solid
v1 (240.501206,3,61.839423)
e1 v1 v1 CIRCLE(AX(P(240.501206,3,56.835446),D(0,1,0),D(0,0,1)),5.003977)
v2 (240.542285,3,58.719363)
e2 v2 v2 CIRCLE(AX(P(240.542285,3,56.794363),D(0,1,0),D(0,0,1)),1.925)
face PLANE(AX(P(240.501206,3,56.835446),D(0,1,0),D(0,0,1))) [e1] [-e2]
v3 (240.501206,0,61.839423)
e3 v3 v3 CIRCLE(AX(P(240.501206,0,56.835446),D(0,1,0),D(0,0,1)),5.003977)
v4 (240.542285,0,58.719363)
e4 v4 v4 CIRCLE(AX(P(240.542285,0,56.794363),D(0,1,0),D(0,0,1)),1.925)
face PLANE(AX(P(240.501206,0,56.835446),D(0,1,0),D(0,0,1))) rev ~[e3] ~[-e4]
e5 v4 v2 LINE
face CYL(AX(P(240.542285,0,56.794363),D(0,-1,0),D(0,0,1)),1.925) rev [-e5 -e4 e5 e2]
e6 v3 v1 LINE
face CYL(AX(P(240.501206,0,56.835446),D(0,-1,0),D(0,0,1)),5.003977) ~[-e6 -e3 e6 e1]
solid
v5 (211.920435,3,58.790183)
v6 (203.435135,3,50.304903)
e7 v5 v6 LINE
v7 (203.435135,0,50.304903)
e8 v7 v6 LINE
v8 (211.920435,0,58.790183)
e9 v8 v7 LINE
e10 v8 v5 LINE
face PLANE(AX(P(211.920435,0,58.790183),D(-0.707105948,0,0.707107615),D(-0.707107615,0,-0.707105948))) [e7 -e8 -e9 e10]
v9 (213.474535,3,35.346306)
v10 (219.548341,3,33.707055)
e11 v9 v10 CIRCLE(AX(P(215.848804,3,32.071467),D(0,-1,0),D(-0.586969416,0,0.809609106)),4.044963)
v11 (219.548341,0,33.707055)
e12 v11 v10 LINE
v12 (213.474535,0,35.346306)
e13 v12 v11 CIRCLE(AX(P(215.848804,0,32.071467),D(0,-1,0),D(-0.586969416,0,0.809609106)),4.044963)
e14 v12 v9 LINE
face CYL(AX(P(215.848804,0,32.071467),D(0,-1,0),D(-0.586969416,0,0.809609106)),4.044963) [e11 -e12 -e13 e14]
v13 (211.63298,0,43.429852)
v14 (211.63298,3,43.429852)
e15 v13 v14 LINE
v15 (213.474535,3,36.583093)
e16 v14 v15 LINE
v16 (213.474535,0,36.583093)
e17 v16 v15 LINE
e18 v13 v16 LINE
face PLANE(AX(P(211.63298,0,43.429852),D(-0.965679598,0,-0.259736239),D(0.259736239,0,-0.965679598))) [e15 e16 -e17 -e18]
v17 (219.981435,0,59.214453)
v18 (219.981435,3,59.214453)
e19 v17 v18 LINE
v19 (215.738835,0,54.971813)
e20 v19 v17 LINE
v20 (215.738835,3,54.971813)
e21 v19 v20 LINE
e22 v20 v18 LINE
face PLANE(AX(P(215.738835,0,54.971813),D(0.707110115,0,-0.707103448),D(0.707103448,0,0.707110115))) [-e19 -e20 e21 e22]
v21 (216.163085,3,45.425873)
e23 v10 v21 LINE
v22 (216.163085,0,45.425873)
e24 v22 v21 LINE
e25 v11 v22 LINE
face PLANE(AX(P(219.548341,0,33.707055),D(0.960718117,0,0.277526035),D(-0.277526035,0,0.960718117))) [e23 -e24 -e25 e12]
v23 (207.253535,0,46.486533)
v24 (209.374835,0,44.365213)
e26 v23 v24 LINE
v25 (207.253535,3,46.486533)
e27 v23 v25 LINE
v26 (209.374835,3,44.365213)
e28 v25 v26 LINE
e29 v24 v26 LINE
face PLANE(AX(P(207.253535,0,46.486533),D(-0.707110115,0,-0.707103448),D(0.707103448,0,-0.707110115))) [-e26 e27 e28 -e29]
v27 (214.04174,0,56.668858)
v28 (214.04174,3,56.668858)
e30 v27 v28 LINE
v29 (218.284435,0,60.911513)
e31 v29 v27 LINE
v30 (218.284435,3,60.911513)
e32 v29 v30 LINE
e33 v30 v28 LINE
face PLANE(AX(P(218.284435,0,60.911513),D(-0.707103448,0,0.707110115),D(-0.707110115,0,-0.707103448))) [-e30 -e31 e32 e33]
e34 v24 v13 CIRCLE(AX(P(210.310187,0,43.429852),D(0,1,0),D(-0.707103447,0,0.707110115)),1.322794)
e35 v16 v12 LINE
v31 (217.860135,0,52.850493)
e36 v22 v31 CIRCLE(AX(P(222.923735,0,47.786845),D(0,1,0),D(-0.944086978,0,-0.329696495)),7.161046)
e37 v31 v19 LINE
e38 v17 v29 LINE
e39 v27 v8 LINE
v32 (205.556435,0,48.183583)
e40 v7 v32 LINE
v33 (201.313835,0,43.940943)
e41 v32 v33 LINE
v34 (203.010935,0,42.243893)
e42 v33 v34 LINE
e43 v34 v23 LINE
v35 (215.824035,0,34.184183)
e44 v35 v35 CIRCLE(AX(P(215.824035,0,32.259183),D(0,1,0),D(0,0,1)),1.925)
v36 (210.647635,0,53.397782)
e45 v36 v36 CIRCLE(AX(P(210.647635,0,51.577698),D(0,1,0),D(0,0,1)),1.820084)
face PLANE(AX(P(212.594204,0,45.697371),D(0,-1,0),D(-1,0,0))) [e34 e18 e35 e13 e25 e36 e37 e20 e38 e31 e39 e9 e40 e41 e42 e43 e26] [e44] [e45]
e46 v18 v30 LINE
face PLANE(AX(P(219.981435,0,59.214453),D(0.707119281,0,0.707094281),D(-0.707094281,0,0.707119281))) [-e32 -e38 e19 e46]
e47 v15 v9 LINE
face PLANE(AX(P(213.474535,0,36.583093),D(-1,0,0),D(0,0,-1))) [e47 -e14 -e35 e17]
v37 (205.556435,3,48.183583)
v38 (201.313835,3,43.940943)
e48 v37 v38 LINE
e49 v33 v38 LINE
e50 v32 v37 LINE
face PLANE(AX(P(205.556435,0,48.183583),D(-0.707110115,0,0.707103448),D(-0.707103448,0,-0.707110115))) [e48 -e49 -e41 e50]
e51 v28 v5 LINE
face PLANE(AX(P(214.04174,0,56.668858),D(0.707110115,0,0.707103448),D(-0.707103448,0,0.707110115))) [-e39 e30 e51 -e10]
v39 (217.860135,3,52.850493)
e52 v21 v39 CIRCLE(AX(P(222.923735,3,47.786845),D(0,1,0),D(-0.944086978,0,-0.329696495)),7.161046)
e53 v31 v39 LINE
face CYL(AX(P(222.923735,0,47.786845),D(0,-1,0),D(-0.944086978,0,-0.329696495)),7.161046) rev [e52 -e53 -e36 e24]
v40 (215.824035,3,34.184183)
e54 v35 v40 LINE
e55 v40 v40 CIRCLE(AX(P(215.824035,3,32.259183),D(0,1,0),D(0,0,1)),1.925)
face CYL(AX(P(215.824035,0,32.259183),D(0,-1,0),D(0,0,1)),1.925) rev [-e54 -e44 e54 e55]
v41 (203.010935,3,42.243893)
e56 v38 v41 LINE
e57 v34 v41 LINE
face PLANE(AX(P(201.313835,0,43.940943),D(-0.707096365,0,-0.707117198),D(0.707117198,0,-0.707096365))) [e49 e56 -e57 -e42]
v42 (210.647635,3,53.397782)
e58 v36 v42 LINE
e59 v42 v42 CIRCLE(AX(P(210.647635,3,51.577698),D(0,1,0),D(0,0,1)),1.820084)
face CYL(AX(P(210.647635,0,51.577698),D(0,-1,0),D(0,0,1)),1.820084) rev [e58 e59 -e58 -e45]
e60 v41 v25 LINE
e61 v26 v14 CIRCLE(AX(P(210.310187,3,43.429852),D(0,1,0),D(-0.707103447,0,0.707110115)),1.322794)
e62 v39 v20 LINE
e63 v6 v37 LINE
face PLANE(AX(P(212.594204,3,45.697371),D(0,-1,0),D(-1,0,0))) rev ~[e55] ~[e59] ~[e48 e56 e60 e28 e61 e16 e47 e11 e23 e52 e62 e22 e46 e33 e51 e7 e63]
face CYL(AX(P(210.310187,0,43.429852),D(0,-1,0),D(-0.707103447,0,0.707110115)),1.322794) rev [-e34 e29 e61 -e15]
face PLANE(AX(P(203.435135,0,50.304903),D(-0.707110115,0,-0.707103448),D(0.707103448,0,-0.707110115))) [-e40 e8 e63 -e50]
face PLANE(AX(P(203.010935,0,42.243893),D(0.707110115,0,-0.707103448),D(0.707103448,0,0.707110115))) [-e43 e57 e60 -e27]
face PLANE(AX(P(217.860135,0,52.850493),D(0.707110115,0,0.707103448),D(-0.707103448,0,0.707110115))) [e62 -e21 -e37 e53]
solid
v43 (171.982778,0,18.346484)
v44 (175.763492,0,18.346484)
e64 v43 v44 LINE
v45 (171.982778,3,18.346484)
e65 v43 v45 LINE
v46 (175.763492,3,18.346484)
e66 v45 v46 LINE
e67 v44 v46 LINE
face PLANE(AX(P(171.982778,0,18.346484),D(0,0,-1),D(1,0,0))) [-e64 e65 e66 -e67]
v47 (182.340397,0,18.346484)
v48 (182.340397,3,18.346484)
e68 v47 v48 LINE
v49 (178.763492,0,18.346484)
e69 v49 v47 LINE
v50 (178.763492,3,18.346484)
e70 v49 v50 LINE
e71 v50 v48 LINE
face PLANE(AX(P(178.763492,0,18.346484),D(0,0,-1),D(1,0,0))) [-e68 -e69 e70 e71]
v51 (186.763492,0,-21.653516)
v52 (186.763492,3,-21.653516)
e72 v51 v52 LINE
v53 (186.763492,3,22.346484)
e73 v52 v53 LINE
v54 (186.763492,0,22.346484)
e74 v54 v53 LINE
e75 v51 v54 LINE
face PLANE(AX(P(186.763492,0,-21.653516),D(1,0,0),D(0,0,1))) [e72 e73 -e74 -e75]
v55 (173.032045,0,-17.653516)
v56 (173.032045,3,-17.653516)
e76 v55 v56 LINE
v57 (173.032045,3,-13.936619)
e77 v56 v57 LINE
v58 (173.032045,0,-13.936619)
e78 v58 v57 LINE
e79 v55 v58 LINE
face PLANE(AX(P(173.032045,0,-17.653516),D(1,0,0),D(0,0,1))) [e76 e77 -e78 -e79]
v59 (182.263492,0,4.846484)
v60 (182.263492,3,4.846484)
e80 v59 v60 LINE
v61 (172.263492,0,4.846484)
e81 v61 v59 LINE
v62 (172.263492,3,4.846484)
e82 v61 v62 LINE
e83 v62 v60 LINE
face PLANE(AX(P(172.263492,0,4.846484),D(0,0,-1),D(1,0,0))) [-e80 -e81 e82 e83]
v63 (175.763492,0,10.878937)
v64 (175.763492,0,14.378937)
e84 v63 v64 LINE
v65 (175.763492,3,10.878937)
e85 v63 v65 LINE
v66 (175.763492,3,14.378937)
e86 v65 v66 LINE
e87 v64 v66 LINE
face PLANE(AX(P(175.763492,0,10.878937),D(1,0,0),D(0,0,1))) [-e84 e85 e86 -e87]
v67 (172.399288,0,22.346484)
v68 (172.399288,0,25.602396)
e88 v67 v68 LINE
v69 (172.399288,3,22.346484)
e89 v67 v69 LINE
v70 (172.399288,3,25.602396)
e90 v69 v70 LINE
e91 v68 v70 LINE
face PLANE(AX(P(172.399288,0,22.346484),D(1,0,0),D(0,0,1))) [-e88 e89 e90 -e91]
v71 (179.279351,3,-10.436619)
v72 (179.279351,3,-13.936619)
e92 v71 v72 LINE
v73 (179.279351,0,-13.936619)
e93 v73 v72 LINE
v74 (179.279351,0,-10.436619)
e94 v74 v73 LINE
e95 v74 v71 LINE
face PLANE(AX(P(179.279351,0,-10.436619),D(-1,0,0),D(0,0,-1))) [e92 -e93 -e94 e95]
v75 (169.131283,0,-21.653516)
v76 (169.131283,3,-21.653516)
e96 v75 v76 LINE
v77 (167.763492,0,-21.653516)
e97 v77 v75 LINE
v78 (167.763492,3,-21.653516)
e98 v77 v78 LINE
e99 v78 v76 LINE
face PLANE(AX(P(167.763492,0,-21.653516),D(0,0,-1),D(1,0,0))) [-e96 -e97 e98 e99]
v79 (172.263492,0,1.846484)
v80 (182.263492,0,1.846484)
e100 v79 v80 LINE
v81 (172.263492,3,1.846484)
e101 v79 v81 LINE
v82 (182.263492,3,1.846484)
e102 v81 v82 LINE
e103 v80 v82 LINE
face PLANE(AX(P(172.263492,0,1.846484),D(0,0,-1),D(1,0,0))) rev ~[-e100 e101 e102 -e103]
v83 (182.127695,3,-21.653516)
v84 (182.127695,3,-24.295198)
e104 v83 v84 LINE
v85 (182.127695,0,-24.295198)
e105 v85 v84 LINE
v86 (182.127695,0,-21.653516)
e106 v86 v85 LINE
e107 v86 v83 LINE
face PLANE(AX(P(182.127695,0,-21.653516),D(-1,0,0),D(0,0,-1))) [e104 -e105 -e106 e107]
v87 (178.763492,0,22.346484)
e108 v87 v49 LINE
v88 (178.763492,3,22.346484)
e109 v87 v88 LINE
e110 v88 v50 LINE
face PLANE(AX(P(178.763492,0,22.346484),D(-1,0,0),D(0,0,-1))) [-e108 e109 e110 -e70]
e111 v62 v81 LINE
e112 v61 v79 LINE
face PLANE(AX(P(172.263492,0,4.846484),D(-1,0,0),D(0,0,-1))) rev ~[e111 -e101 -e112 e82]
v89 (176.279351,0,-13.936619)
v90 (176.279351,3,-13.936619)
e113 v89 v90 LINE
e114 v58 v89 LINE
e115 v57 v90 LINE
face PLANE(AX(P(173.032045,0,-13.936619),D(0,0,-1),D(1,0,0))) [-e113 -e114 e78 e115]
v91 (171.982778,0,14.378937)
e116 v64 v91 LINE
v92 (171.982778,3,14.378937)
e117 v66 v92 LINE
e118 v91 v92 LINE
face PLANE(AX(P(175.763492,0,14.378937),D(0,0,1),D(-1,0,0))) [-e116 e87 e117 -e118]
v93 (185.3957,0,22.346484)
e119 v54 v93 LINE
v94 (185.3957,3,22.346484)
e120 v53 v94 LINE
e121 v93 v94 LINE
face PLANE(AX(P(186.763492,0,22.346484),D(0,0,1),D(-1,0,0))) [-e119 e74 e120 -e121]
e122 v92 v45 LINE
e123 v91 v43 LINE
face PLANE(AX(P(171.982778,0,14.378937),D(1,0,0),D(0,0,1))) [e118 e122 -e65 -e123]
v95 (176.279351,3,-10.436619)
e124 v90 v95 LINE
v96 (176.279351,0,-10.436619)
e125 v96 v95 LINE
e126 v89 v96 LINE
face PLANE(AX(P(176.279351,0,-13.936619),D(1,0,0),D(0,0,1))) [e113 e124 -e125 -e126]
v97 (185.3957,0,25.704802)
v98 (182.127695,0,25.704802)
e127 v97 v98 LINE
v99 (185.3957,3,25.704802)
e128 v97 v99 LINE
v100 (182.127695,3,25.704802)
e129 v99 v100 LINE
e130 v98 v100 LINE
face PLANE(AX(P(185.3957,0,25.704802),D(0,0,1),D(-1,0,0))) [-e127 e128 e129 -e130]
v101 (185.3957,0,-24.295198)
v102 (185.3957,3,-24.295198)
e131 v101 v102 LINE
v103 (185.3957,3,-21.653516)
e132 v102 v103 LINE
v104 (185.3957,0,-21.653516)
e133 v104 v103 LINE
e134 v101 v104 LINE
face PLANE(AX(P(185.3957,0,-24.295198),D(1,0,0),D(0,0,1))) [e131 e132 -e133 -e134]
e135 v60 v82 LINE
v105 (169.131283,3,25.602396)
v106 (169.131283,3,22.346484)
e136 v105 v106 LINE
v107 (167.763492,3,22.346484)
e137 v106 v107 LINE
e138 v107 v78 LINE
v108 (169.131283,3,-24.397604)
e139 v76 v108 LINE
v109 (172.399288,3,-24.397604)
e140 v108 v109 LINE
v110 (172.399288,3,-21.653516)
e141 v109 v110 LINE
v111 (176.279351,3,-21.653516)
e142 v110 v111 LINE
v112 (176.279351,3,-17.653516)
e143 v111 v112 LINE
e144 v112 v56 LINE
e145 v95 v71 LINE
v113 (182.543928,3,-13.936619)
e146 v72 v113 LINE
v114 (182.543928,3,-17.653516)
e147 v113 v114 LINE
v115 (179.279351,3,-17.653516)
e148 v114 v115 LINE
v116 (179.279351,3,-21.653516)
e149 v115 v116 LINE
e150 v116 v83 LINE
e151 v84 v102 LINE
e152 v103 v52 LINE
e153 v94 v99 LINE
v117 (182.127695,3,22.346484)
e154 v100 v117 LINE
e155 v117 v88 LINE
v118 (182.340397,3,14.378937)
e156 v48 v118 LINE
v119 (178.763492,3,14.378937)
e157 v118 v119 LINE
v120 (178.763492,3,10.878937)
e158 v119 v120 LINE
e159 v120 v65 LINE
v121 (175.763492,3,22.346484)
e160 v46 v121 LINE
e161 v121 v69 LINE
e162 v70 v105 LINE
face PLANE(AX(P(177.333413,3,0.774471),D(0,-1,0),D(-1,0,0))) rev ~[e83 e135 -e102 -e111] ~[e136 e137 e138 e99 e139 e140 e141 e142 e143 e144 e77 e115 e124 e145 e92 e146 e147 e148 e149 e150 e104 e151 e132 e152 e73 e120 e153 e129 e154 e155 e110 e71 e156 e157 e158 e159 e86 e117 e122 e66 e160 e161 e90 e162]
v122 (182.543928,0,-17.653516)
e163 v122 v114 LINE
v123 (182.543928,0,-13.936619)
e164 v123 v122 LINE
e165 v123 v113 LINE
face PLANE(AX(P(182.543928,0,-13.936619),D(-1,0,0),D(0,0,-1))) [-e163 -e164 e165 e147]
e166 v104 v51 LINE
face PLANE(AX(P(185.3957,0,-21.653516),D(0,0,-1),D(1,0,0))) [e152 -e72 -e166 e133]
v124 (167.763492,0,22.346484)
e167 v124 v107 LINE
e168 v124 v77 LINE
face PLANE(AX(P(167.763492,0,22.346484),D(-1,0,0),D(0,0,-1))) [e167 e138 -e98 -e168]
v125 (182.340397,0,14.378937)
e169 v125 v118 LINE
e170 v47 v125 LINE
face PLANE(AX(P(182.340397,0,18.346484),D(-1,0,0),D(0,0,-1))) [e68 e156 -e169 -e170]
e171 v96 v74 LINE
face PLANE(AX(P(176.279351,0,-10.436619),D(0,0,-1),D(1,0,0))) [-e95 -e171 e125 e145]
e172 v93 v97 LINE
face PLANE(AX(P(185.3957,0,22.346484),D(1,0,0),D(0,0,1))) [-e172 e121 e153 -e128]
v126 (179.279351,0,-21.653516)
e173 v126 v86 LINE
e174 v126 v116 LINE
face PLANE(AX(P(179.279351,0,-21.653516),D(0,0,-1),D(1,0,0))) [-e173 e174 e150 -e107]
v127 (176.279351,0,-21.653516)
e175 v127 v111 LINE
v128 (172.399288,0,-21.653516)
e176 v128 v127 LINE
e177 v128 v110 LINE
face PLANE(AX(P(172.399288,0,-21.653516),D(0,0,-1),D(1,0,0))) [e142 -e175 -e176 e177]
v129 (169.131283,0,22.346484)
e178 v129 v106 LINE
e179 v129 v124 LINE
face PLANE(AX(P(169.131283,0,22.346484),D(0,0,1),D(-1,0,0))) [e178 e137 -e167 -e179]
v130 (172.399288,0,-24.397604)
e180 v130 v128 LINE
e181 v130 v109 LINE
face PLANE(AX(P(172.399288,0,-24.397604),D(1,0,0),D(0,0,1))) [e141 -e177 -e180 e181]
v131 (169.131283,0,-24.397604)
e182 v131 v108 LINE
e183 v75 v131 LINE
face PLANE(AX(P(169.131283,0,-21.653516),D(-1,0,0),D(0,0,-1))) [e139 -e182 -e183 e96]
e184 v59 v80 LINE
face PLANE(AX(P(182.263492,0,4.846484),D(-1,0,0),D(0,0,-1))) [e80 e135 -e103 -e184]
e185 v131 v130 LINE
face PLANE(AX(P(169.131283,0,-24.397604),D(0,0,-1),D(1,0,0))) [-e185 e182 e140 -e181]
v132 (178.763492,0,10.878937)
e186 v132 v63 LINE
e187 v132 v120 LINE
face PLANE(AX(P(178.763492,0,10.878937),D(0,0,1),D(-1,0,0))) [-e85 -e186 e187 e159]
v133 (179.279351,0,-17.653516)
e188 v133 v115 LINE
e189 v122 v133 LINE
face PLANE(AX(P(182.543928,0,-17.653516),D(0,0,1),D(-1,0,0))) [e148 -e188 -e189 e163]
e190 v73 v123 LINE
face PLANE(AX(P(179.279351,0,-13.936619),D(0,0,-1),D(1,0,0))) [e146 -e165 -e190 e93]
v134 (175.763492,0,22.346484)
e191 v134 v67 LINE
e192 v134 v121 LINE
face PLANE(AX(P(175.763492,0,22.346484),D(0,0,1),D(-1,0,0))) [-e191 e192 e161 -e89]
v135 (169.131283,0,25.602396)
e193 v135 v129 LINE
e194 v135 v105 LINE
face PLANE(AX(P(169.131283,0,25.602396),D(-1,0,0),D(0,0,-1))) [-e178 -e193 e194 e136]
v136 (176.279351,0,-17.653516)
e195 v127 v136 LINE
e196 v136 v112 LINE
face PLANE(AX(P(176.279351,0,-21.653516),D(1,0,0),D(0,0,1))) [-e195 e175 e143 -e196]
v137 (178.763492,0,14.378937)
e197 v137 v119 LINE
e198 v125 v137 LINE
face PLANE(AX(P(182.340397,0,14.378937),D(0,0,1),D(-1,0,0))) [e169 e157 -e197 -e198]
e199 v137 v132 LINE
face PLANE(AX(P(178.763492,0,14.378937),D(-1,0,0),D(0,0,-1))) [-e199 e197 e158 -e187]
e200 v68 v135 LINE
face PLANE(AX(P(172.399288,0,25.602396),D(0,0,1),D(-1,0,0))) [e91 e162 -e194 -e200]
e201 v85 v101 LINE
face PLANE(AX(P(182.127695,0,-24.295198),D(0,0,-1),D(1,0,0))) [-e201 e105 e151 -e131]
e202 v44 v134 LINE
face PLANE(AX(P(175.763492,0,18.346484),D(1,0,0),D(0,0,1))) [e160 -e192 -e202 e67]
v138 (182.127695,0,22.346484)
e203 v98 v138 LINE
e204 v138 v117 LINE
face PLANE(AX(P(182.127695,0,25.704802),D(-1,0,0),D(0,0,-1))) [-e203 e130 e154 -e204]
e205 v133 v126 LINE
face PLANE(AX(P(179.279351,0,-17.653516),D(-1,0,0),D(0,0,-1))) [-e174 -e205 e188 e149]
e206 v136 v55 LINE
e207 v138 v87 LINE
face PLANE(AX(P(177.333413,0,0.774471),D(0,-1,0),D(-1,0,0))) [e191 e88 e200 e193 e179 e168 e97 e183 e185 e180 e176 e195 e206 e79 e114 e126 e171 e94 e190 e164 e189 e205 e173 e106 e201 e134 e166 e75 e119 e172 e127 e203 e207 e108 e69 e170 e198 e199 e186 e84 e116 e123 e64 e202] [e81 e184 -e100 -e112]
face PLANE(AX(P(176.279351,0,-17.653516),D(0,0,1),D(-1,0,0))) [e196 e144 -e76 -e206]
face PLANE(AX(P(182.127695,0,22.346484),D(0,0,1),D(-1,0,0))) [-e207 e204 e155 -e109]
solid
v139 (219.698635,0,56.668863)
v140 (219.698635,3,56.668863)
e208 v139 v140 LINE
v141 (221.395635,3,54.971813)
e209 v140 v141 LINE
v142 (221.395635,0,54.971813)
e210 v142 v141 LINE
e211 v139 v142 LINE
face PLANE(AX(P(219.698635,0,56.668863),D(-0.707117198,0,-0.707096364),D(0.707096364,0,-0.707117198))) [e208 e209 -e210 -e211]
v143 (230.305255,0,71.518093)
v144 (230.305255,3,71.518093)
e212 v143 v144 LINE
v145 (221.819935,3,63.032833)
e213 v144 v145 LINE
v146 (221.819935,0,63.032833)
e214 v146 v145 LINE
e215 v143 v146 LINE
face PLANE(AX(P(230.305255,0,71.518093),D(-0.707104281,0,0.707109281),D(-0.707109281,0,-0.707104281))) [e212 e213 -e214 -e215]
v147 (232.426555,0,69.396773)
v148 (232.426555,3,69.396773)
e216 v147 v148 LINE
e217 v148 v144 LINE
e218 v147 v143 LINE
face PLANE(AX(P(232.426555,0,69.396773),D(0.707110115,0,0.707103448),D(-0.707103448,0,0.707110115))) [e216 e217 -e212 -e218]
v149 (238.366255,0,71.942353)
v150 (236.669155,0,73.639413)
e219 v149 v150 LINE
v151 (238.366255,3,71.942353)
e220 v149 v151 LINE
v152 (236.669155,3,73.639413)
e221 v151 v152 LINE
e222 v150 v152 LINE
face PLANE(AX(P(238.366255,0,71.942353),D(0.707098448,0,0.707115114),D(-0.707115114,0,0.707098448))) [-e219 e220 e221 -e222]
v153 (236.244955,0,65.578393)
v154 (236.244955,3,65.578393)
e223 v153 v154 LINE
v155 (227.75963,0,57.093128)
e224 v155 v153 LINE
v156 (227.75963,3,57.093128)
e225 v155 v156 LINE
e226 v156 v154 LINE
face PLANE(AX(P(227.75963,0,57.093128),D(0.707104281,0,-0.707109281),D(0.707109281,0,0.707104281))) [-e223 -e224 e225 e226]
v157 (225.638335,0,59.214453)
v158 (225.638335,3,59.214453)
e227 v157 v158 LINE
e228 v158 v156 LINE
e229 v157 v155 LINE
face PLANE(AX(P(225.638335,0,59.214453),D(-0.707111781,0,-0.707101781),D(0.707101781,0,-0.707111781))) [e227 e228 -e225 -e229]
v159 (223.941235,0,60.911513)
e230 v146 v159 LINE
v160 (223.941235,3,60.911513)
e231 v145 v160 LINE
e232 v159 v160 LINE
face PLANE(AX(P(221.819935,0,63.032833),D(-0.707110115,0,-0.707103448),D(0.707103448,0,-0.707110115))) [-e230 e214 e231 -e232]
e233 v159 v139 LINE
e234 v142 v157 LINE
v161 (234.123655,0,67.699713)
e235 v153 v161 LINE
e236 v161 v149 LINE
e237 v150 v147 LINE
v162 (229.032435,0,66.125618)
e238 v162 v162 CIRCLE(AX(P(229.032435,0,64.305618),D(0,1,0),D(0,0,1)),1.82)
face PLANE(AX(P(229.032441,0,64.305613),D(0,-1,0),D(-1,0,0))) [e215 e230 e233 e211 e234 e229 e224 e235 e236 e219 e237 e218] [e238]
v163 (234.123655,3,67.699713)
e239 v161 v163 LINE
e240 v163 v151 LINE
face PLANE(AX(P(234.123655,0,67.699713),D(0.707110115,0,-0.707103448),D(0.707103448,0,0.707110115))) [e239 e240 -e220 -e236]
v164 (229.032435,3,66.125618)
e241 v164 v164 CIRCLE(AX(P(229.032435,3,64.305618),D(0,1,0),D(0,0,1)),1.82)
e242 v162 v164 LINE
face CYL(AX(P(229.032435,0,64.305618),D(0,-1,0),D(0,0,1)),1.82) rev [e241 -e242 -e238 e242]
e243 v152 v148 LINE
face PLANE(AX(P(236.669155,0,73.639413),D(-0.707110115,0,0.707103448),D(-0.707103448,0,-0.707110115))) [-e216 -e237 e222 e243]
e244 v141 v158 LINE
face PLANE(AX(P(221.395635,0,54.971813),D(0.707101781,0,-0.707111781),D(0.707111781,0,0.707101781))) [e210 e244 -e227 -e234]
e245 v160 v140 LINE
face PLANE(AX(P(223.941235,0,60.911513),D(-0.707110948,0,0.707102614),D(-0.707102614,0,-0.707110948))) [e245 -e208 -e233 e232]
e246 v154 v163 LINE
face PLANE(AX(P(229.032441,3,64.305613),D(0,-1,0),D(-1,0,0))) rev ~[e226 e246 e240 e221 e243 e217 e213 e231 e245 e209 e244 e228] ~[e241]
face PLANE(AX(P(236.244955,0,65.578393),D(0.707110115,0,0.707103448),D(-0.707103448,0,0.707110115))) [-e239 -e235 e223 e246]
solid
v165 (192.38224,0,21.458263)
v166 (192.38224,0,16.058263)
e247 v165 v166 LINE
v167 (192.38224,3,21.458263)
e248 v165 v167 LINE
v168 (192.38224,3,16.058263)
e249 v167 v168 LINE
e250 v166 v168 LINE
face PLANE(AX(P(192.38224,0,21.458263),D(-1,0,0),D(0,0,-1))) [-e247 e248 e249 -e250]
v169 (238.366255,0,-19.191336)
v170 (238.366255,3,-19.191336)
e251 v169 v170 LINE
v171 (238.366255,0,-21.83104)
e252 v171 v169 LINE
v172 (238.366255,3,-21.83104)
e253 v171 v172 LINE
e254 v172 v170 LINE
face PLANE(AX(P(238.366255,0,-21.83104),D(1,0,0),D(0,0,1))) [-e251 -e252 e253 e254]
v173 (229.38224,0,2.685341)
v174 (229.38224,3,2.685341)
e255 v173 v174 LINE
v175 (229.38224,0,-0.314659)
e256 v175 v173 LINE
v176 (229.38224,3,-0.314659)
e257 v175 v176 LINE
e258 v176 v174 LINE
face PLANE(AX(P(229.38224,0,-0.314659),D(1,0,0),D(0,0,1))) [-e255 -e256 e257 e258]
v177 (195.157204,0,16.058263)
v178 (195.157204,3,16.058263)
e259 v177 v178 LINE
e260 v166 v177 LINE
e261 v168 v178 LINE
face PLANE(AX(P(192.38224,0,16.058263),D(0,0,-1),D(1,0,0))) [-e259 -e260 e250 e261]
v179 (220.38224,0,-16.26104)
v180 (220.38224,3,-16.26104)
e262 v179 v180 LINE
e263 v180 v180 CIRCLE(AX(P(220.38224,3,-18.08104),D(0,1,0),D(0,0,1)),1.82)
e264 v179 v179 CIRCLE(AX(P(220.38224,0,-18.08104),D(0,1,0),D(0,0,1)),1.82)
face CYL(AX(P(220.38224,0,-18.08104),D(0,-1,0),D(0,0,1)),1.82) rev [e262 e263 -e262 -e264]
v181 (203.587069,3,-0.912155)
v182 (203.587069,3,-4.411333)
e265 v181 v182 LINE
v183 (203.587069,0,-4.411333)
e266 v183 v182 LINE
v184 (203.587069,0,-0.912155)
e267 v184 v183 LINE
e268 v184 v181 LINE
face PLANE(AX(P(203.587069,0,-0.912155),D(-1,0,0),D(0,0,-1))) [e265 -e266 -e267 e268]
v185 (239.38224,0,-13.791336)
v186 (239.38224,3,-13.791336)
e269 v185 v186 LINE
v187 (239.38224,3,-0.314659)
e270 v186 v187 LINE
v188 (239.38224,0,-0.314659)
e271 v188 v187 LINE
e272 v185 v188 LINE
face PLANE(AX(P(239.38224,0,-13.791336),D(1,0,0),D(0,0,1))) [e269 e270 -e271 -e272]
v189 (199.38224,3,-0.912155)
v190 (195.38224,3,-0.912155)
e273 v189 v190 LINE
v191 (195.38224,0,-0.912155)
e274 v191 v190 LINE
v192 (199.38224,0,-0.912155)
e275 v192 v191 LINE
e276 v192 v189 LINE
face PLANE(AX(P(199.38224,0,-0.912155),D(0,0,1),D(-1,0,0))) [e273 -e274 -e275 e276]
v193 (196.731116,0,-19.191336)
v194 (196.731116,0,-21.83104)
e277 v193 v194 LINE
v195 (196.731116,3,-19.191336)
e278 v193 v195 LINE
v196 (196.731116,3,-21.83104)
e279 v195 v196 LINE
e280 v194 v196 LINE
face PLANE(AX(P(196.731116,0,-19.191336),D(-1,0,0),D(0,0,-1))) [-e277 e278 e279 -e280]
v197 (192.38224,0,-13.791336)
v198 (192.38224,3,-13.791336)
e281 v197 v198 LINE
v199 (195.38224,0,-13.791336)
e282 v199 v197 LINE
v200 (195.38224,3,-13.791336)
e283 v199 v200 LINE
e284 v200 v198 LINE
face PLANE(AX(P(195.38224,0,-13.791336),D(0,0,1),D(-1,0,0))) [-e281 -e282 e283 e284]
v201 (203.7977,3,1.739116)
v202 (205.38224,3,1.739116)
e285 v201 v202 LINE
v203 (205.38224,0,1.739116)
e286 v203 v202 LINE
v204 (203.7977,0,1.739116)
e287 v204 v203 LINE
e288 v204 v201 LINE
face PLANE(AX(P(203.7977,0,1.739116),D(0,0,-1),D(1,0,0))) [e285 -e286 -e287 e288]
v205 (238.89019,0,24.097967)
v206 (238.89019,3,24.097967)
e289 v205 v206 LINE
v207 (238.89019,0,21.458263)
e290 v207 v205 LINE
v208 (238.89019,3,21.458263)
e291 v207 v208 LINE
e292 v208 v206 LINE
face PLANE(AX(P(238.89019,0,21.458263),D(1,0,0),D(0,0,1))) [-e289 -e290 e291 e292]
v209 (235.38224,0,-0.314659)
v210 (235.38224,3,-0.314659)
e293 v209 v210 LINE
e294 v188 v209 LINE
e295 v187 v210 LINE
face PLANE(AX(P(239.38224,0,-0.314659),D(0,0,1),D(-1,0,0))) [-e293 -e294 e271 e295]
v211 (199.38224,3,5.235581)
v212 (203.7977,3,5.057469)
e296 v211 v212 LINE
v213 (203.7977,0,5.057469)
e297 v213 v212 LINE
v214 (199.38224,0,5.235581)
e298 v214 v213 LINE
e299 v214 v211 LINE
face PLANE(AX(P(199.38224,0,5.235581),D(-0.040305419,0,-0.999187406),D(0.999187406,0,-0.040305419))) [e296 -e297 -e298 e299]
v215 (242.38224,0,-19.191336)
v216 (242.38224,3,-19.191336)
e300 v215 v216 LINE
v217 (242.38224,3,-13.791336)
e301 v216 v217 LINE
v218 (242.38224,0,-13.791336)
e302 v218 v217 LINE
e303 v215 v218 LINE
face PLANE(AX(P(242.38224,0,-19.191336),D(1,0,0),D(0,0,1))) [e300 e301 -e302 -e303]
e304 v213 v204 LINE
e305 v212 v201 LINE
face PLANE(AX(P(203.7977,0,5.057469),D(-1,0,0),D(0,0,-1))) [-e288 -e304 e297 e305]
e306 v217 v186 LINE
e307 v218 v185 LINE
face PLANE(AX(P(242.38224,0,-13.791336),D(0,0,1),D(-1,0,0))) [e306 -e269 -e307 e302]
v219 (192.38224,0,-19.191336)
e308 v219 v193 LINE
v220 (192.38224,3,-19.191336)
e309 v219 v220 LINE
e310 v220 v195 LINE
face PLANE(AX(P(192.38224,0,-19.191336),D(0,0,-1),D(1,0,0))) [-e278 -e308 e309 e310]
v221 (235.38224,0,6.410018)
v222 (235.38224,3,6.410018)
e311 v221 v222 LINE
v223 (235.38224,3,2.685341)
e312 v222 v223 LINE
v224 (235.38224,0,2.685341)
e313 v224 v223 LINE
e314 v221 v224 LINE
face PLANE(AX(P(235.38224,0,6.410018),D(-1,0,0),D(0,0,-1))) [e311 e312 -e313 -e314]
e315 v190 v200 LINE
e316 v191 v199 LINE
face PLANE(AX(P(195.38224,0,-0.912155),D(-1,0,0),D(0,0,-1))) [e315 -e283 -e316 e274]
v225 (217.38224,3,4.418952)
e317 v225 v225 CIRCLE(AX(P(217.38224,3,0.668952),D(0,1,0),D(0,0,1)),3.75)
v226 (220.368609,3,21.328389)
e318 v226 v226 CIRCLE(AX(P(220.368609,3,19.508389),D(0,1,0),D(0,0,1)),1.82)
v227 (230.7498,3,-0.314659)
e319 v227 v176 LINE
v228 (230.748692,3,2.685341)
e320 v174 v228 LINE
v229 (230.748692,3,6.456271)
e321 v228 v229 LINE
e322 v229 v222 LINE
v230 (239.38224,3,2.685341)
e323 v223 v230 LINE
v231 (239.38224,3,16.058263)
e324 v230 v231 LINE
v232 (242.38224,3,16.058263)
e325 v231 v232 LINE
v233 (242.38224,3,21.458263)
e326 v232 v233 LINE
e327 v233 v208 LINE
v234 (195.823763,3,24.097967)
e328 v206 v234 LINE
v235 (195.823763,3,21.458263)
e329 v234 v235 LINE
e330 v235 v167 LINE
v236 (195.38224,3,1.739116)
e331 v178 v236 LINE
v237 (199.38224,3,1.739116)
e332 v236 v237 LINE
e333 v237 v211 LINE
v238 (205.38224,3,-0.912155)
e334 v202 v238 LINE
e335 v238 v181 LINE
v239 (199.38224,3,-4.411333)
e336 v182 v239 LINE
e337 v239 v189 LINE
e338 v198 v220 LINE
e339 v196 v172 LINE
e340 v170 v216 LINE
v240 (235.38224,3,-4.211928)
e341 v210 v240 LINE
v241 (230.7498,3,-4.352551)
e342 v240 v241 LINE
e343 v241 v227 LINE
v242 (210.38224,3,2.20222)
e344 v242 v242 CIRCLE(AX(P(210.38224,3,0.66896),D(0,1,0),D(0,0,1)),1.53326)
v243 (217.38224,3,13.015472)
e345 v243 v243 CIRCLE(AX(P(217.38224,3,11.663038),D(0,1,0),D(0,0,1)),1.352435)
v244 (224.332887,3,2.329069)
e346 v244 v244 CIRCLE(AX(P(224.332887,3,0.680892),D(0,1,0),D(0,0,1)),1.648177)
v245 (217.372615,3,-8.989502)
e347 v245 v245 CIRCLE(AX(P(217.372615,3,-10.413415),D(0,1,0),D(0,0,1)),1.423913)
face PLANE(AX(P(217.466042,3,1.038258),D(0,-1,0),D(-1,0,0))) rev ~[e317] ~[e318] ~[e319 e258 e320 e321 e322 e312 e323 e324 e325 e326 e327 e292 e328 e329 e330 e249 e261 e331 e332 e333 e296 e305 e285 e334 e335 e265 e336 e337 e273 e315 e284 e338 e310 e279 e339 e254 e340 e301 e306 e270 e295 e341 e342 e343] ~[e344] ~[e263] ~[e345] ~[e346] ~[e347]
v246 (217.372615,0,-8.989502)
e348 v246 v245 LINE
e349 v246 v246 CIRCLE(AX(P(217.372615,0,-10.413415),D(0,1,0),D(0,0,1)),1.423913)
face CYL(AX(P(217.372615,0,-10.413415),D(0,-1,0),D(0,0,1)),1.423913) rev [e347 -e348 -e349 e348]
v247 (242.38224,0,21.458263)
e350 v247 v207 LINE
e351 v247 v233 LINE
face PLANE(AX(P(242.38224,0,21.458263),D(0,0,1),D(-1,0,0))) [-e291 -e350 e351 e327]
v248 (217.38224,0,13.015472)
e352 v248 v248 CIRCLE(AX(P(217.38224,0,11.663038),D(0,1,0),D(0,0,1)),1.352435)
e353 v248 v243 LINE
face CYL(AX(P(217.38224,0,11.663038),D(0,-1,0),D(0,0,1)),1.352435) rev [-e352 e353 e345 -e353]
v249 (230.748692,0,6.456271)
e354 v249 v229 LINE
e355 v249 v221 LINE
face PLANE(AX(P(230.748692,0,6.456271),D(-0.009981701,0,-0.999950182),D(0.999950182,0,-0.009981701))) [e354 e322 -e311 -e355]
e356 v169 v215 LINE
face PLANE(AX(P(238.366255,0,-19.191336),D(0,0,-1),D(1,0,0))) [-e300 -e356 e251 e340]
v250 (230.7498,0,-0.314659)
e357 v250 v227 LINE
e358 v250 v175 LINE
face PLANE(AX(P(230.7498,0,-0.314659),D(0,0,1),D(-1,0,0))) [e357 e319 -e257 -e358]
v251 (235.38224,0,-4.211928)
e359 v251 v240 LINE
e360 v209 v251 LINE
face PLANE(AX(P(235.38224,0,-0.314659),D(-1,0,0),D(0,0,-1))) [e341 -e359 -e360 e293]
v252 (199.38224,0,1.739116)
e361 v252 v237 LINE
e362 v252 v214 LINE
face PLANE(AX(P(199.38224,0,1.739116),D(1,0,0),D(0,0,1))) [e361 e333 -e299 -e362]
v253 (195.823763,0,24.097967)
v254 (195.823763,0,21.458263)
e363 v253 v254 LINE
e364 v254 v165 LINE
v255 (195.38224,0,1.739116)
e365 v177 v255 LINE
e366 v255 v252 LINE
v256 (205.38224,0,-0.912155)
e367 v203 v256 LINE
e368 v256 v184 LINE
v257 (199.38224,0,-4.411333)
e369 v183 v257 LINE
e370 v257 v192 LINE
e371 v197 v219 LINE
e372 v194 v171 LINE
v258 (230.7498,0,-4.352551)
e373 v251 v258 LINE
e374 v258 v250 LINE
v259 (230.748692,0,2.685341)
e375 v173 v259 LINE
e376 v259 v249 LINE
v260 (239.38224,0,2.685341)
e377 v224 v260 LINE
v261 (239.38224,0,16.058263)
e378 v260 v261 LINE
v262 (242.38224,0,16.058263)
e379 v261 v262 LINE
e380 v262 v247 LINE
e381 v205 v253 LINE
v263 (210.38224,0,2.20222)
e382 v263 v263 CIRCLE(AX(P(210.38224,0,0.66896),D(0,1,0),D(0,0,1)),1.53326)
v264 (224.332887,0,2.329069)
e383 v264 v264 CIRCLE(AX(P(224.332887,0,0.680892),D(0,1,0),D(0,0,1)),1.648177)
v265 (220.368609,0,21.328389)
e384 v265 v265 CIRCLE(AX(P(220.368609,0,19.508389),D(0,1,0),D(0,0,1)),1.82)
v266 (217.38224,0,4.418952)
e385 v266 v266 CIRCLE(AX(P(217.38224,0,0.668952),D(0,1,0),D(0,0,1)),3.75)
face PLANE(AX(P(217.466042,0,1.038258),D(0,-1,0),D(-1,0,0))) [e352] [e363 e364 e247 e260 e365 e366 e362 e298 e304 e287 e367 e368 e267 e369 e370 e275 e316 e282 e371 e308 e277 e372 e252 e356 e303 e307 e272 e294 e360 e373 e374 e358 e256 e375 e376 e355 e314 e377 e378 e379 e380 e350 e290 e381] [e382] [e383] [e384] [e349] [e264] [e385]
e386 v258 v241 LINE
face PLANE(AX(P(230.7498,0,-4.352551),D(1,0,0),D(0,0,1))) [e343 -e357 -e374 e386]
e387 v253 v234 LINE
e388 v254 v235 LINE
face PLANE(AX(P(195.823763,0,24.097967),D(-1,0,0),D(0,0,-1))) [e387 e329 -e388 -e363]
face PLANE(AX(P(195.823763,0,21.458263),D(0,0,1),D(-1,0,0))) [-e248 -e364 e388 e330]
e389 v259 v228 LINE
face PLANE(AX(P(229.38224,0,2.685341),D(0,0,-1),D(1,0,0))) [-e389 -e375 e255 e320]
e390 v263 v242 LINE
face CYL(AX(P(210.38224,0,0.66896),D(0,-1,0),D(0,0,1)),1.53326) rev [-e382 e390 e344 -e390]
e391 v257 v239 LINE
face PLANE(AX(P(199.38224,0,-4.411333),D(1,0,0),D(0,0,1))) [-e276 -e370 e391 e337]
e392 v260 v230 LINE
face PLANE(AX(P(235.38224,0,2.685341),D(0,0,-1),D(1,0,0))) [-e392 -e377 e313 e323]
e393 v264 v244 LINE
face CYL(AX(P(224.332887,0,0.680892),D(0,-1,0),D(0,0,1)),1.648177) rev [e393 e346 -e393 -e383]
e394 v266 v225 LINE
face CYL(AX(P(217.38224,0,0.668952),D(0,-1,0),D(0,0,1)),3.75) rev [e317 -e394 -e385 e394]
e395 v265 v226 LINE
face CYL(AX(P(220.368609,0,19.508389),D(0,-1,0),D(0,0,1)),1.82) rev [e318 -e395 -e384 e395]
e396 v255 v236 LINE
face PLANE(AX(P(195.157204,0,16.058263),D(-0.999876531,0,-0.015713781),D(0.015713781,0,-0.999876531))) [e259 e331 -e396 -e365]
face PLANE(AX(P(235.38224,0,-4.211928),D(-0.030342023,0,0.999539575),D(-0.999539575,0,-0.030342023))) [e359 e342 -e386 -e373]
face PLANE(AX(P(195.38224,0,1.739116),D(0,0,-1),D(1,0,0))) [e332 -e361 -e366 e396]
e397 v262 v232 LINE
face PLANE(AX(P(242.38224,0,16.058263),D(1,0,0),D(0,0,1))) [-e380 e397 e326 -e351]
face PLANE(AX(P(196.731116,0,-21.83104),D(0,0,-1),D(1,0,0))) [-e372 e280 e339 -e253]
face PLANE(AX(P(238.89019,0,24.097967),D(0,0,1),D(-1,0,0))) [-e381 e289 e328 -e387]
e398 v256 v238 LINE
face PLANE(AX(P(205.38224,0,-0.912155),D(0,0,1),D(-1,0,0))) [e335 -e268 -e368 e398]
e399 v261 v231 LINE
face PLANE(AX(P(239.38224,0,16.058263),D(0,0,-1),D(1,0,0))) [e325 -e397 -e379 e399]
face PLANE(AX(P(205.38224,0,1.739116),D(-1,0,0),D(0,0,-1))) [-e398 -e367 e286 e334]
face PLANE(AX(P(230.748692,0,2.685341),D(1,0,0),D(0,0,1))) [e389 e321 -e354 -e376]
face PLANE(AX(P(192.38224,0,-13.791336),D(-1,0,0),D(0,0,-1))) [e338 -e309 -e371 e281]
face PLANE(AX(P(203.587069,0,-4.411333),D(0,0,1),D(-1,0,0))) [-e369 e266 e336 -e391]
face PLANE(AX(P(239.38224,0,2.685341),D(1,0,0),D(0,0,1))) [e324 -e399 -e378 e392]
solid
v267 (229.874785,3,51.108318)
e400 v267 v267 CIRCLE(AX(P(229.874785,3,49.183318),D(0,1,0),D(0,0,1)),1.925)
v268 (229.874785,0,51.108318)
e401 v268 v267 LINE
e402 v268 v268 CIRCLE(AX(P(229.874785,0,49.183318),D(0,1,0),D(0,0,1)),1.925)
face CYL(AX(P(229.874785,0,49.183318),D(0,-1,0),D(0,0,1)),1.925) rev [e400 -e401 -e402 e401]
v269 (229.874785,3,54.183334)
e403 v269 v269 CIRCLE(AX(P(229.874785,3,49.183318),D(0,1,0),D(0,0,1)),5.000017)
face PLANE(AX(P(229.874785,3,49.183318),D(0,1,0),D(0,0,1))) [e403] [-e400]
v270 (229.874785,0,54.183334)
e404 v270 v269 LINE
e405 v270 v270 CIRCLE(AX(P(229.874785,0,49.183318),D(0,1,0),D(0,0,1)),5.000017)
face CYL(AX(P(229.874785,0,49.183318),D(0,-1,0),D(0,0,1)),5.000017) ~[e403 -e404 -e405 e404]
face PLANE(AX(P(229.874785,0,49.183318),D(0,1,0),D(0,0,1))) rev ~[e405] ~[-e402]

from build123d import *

# Parameters (mm, degrees)
SKETCH6_R             = 5.00001662
SKETCH6_R_2           = 1.925
BOSS_EXTRUDE1_DEPTH   = 3
SKETCH6_R_3           = 5.003976988
BOSS_EXTRUDE1_2_DEPTH = 3
SKETCH6_R_4           = 3.75
SKETCH6_R_5           = 1.53326
SKETCH6_R_6           = 1.42391285
SKETCH6_R_7           = 1.648176726
SKETCH6_R_8           = 1.82
SKETCH6_R_9           = 1.352434515
BOSS_EXTRUDE1_3_DEPTH = 3
SKETCH6_W             = 10
SKETCH6_H             = 3
BOSS_EXTRUDE1_4_DEPTH = 3
SKETCH6_R_10          = 1.820084062
BOSS_EXTRUDE1_5_DEPTH = 3
BOSS_EXTRUDE1_6_DEPTH = 3


with BuildPart() as part:
    # Sketch6 → Boss-Extrude1 (new body)
    with BuildSketch(Plane(origin=(0, 0, -6.873626876), x_dir=(1, 0, 0), z_dir=(0, 1, 0))):
        with Locations(Location((229.874784709, -56.056944562, 0), (0, 0, 270))):
            Circle(SKETCH6_R)
        with Locations(Location((229.874784709, -56.056944562, 0), (0, 0, 270))):
            Circle(SKETCH6_R_2, mode=Mode.SUBTRACT)
    extrude(amount=BOSS_EXTRUDE1_DEPTH)


with BuildPart() as body_2:
    # Sketch6 → Boss-Extrude1 2 (new body)
    with BuildSketch(Plane(origin=(0, 0, -6.873626876), x_dir=(1, 0, 0), z_dir=(0, 1, 0))):
        with Locations(Location((240.501206391, -63.709072507, 0), (0, 0, 270))):
            Circle(SKETCH6_R_3)
        with Locations(Location((240.542284709, -63.667989562, 0), (0, 0, 270))):
            Circle(SKETCH6_R_2, mode=Mode.SUBTRACT)
    extrude(amount=BOSS_EXTRUDE1_2_DEPTH)


with BuildPart() as body_3:
    # Sketch6 → Boss-Extrude1 3 (new body)
    with BuildSketch(Plane(origin=(0, 0, -6.873626876), x_dir=(1, 0, 0), z_dir=(0, 1, 0))):
        Polygon((242.382239794, 6.917708836), (239.382239794, 6.917708836), (239.382239794, -6.558967727), (235.382239794, -6.558967727), (235.382239794, -2.661698693), (230.749800061, -2.521076352), (230.749800061, -6.558967727), (229.382239794, -6.558967727), (229.382239794, -9.558967727), (230.748691654, -9.558967727), (230.748691654, -13.329897708), (235.382239794, -13.283644713), (235.382239794, -9.558967727), (239.382239794, -9.558967727), (239.382239794, -22.931889683), (242.382239794, -22.931889683), (242.382239794, -28.331889683), (238.890190267, -28.331889683), (238.890190267, -30.971594022), (195.823762638, -30.971594022), (195.823762638, -28.331889683), (192.382239794, -28.331889683), (192.382239794, -22.931889683), (195.157204069, -22.931889683), (195.382239794, -8.612742778), (199.382239794, -8.612742778), (199.382239794, -12.109207952), (203.797700047, -11.931096242), (203.797700047, -8.612742778), (205.382239794, -8.612742778), (205.382239794, -5.961471436), (203.587068887, -5.961471436), (203.587068887, -2.462294151), (199.382239794, -2.462294151), (199.382239794, -5.961471436), (195.382239794, -5.961471436), (195.382239794, 6.917708836), (192.382239794, 6.917708836), (192.382239794, 12.317708836), (196.731116236, 12.317708836), (196.731116236, 14.957413175), (238.366254708, 14.957413175), (238.366254708, 12.317708836), (242.382239794, 12.317708836), align=None)
        with Locations(Location((217.382239794, -7.542579319, 0), (0, 0, 270))):
            Circle(SKETCH6_R_4, mode=Mode.SUBTRACT)
        with Locations(Location((210.382239794, -7.542586825, 0), (0, 0, 270))):
            Circle(SKETCH6_R_5, mode=Mode.SUBTRACT)
        with Locations(Location((217.372614794, 3.539788175, 0), (0, 0, 270))):
            Circle(SKETCH6_R_6, mode=Mode.SUBTRACT)
        with Locations(Location((224.332886765, -7.554518996, 0), (0, 0, 270))):
            Circle(SKETCH6_R_7, mode=Mode.SUBTRACT)
        with Locations(Location((220.382239794, 11.207413175, 0), (0, 0, 270))):
            Circle(SKETCH6_R_8, mode=Mode.SUBTRACT)
        with Locations(Location((217.382239794, -18.536664507, 0), (0, 0, 270))):
            Circle(SKETCH6_R_9, mode=Mode.SUBTRACT)
        with Locations(Location((220.368609085, -26.382015564, 0), (0, 0, 270))):
            Circle(SKETCH6_R_8, mode=Mode.SUBTRACT)
    extrude(amount=BOSS_EXTRUDE1_3_DEPTH)


with BuildPart() as body_4:
    # Sketch6 → Boss-Extrude1 4 (new body)
    with BuildSketch(Plane(origin=(0, 0, -6.873626876), x_dir=(1, 0, 0), z_dir=(0, 1, 0))):
        Polygon((172.399287959, 17.523976804), (172.399287959, 14.779888825), (176.279351087, 14.779888825), (176.279351087, 10.779888825), (173.032045346, 10.779888825), (173.032045346, 7.062992514), (176.279351087, 7.062992514), (176.279351087, 3.562992514), (179.279351087, 3.562992514), (179.279351087, 7.062992514), (182.543927994, 7.062992514), (182.543927994, 10.779888825), (179.279351087, 10.779888825), (179.279351087, 14.779888825), (182.127695455, 14.779888825), (182.127695455, 17.421571169), (185.39570021, 17.421571169), (185.39570021, 14.779888825), (186.763491707, 14.779888825), (186.763491707, -29.220111175), (185.39570021, -29.220111175), (185.39570021, -32.578428831), (182.127695455, -32.578428831), (182.127695455, -29.220111175), (178.763491707, -29.220111175), (178.763491707, -25.220111175), (182.34039673, -25.220111175), (182.34039673, -21.252563381), (178.763491707, -21.252563381), (178.763491707, -17.752563381), (175.763491707, -17.752563381), (175.763491707, -21.252563381), (171.982778318, -21.252563381), (171.982778318, -25.220111175), (175.763491707, -25.220111175), (175.763491707, -29.220111175), (172.399287959, -29.220111175), (172.399287959, -32.476023196), (169.131283204, -32.476023196), (169.131283204, -29.220111175), (167.763491707, -29.220111175), (167.763491707, 14.779888825), (169.131283204, 14.779888825), (169.131283204, 17.523976804), align=None)
        with Locations((177.263491707, -10.220111175)):
            Rectangle(SKETCH6_W, SKETCH6_H, mode=Mode.SUBTRACT)
    extrude(amount=BOSS_EXTRUDE1_4_DEPTH)


with BuildPart() as body_5:
    # Sketch6 → Boss-Extrude1 5 (new body)
    with BuildSketch(Plane(origin=(0, 0, -6.873626876), x_dir=(1, 0, 0), z_dir=(0, 1, 0))):
        with BuildLine():
            Line((217.860134709, -59.724119562), (215.738834709, -61.845439562))
            Line((215.738834709, -61.845439562), (219.981434709, -66.088079562))
            Line((219.981434709, -66.088079562), (218.284434709, -67.785139562))
            Line((218.284434709, -67.785139562), (214.041739708, -63.542484562))
            Line((214.041739708, -63.542484562), (211.920434709, -65.663809562))
            Line((211.920434709, -65.663809562), (203.435134709, -57.178529562))
            Line((203.435134709, -57.178529562), (205.556434709, -55.057209562))
            Line((205.556434709, -55.057209562), (201.313834709, -50.814569562))
            Line((201.313834709, -50.814569562), (203.010934709, -49.117519562))
            Line((203.010934709, -49.117519562), (207.253534709, -53.360159562))
            Line((207.253534709, -53.360159562), (209.374834709, -51.238839562))
            ThreePointArc((209.374834709, -51.238839562), (210.816400769, -51.525579581), (211.632980333, -50.303478783))
            Line((211.632980333, -50.303478783), (213.474534709, -43.456719562))
            Line((213.474534709, -43.456719562), (213.474534709, -42.219932453))
            ThreePointArc((213.474534709, -42.219932453), (214.794826347, -35.039859898), (219.548340876, -40.580682177))
            Line((219.548340876, -40.580682177), (216.163084709, -52.299499562))
            ThreePointArc((216.163084709, -52.299499562), (215.942727144, -56.256124713), (217.860134709, -59.724119562))
        make_face()
        with Locations(Location((215.824034709, -39.132809562, 0), (0, 0, 270))):
            Circle(SKETCH6_R_2, mode=Mode.SUBTRACT)
        with Locations(Location((210.647634709, -58.451324562, 0), (0, 0, 270))):
            Circle(SKETCH6_R_10, mode=Mode.SUBTRACT)
    extrude(amount=BOSS_EXTRUDE1_5_DEPTH)


with BuildPart() as body_6:
    # Sketch6 → Boss-Extrude1 6 (new body)
    with BuildSketch(Plane(origin=(0, 0, -6.873626876), x_dir=(1, 0, 0), z_dir=(0, 1, 0))):
        Polygon((227.759629709, -63.966754562), (236.244954708, -72.452019563), (234.123654708, -74.573339563), (238.366254708, -78.815979563), (236.669154708, -80.513039563), (232.426554708, -76.270399563), (230.305254708, -78.391719563), (221.819934709, -69.906459562), (223.941234709, -67.785139562), (219.698634709, -63.542489562), (221.395634709, -61.845439562), (225.638334709, -66.088079562), align=None)
        with Locations(Location((229.032434709, -71.179244562, 0), (0, 0, 270))):
            Circle(SKETCH6_R_8, mode=Mode.SUBTRACT)
    extrude(amount=BOSS_EXTRUDE1_6_DEPTH)


solid = Compound([part.part, body_2.part, body_3.part, body_4.part, body_5.part, body_6.part])
